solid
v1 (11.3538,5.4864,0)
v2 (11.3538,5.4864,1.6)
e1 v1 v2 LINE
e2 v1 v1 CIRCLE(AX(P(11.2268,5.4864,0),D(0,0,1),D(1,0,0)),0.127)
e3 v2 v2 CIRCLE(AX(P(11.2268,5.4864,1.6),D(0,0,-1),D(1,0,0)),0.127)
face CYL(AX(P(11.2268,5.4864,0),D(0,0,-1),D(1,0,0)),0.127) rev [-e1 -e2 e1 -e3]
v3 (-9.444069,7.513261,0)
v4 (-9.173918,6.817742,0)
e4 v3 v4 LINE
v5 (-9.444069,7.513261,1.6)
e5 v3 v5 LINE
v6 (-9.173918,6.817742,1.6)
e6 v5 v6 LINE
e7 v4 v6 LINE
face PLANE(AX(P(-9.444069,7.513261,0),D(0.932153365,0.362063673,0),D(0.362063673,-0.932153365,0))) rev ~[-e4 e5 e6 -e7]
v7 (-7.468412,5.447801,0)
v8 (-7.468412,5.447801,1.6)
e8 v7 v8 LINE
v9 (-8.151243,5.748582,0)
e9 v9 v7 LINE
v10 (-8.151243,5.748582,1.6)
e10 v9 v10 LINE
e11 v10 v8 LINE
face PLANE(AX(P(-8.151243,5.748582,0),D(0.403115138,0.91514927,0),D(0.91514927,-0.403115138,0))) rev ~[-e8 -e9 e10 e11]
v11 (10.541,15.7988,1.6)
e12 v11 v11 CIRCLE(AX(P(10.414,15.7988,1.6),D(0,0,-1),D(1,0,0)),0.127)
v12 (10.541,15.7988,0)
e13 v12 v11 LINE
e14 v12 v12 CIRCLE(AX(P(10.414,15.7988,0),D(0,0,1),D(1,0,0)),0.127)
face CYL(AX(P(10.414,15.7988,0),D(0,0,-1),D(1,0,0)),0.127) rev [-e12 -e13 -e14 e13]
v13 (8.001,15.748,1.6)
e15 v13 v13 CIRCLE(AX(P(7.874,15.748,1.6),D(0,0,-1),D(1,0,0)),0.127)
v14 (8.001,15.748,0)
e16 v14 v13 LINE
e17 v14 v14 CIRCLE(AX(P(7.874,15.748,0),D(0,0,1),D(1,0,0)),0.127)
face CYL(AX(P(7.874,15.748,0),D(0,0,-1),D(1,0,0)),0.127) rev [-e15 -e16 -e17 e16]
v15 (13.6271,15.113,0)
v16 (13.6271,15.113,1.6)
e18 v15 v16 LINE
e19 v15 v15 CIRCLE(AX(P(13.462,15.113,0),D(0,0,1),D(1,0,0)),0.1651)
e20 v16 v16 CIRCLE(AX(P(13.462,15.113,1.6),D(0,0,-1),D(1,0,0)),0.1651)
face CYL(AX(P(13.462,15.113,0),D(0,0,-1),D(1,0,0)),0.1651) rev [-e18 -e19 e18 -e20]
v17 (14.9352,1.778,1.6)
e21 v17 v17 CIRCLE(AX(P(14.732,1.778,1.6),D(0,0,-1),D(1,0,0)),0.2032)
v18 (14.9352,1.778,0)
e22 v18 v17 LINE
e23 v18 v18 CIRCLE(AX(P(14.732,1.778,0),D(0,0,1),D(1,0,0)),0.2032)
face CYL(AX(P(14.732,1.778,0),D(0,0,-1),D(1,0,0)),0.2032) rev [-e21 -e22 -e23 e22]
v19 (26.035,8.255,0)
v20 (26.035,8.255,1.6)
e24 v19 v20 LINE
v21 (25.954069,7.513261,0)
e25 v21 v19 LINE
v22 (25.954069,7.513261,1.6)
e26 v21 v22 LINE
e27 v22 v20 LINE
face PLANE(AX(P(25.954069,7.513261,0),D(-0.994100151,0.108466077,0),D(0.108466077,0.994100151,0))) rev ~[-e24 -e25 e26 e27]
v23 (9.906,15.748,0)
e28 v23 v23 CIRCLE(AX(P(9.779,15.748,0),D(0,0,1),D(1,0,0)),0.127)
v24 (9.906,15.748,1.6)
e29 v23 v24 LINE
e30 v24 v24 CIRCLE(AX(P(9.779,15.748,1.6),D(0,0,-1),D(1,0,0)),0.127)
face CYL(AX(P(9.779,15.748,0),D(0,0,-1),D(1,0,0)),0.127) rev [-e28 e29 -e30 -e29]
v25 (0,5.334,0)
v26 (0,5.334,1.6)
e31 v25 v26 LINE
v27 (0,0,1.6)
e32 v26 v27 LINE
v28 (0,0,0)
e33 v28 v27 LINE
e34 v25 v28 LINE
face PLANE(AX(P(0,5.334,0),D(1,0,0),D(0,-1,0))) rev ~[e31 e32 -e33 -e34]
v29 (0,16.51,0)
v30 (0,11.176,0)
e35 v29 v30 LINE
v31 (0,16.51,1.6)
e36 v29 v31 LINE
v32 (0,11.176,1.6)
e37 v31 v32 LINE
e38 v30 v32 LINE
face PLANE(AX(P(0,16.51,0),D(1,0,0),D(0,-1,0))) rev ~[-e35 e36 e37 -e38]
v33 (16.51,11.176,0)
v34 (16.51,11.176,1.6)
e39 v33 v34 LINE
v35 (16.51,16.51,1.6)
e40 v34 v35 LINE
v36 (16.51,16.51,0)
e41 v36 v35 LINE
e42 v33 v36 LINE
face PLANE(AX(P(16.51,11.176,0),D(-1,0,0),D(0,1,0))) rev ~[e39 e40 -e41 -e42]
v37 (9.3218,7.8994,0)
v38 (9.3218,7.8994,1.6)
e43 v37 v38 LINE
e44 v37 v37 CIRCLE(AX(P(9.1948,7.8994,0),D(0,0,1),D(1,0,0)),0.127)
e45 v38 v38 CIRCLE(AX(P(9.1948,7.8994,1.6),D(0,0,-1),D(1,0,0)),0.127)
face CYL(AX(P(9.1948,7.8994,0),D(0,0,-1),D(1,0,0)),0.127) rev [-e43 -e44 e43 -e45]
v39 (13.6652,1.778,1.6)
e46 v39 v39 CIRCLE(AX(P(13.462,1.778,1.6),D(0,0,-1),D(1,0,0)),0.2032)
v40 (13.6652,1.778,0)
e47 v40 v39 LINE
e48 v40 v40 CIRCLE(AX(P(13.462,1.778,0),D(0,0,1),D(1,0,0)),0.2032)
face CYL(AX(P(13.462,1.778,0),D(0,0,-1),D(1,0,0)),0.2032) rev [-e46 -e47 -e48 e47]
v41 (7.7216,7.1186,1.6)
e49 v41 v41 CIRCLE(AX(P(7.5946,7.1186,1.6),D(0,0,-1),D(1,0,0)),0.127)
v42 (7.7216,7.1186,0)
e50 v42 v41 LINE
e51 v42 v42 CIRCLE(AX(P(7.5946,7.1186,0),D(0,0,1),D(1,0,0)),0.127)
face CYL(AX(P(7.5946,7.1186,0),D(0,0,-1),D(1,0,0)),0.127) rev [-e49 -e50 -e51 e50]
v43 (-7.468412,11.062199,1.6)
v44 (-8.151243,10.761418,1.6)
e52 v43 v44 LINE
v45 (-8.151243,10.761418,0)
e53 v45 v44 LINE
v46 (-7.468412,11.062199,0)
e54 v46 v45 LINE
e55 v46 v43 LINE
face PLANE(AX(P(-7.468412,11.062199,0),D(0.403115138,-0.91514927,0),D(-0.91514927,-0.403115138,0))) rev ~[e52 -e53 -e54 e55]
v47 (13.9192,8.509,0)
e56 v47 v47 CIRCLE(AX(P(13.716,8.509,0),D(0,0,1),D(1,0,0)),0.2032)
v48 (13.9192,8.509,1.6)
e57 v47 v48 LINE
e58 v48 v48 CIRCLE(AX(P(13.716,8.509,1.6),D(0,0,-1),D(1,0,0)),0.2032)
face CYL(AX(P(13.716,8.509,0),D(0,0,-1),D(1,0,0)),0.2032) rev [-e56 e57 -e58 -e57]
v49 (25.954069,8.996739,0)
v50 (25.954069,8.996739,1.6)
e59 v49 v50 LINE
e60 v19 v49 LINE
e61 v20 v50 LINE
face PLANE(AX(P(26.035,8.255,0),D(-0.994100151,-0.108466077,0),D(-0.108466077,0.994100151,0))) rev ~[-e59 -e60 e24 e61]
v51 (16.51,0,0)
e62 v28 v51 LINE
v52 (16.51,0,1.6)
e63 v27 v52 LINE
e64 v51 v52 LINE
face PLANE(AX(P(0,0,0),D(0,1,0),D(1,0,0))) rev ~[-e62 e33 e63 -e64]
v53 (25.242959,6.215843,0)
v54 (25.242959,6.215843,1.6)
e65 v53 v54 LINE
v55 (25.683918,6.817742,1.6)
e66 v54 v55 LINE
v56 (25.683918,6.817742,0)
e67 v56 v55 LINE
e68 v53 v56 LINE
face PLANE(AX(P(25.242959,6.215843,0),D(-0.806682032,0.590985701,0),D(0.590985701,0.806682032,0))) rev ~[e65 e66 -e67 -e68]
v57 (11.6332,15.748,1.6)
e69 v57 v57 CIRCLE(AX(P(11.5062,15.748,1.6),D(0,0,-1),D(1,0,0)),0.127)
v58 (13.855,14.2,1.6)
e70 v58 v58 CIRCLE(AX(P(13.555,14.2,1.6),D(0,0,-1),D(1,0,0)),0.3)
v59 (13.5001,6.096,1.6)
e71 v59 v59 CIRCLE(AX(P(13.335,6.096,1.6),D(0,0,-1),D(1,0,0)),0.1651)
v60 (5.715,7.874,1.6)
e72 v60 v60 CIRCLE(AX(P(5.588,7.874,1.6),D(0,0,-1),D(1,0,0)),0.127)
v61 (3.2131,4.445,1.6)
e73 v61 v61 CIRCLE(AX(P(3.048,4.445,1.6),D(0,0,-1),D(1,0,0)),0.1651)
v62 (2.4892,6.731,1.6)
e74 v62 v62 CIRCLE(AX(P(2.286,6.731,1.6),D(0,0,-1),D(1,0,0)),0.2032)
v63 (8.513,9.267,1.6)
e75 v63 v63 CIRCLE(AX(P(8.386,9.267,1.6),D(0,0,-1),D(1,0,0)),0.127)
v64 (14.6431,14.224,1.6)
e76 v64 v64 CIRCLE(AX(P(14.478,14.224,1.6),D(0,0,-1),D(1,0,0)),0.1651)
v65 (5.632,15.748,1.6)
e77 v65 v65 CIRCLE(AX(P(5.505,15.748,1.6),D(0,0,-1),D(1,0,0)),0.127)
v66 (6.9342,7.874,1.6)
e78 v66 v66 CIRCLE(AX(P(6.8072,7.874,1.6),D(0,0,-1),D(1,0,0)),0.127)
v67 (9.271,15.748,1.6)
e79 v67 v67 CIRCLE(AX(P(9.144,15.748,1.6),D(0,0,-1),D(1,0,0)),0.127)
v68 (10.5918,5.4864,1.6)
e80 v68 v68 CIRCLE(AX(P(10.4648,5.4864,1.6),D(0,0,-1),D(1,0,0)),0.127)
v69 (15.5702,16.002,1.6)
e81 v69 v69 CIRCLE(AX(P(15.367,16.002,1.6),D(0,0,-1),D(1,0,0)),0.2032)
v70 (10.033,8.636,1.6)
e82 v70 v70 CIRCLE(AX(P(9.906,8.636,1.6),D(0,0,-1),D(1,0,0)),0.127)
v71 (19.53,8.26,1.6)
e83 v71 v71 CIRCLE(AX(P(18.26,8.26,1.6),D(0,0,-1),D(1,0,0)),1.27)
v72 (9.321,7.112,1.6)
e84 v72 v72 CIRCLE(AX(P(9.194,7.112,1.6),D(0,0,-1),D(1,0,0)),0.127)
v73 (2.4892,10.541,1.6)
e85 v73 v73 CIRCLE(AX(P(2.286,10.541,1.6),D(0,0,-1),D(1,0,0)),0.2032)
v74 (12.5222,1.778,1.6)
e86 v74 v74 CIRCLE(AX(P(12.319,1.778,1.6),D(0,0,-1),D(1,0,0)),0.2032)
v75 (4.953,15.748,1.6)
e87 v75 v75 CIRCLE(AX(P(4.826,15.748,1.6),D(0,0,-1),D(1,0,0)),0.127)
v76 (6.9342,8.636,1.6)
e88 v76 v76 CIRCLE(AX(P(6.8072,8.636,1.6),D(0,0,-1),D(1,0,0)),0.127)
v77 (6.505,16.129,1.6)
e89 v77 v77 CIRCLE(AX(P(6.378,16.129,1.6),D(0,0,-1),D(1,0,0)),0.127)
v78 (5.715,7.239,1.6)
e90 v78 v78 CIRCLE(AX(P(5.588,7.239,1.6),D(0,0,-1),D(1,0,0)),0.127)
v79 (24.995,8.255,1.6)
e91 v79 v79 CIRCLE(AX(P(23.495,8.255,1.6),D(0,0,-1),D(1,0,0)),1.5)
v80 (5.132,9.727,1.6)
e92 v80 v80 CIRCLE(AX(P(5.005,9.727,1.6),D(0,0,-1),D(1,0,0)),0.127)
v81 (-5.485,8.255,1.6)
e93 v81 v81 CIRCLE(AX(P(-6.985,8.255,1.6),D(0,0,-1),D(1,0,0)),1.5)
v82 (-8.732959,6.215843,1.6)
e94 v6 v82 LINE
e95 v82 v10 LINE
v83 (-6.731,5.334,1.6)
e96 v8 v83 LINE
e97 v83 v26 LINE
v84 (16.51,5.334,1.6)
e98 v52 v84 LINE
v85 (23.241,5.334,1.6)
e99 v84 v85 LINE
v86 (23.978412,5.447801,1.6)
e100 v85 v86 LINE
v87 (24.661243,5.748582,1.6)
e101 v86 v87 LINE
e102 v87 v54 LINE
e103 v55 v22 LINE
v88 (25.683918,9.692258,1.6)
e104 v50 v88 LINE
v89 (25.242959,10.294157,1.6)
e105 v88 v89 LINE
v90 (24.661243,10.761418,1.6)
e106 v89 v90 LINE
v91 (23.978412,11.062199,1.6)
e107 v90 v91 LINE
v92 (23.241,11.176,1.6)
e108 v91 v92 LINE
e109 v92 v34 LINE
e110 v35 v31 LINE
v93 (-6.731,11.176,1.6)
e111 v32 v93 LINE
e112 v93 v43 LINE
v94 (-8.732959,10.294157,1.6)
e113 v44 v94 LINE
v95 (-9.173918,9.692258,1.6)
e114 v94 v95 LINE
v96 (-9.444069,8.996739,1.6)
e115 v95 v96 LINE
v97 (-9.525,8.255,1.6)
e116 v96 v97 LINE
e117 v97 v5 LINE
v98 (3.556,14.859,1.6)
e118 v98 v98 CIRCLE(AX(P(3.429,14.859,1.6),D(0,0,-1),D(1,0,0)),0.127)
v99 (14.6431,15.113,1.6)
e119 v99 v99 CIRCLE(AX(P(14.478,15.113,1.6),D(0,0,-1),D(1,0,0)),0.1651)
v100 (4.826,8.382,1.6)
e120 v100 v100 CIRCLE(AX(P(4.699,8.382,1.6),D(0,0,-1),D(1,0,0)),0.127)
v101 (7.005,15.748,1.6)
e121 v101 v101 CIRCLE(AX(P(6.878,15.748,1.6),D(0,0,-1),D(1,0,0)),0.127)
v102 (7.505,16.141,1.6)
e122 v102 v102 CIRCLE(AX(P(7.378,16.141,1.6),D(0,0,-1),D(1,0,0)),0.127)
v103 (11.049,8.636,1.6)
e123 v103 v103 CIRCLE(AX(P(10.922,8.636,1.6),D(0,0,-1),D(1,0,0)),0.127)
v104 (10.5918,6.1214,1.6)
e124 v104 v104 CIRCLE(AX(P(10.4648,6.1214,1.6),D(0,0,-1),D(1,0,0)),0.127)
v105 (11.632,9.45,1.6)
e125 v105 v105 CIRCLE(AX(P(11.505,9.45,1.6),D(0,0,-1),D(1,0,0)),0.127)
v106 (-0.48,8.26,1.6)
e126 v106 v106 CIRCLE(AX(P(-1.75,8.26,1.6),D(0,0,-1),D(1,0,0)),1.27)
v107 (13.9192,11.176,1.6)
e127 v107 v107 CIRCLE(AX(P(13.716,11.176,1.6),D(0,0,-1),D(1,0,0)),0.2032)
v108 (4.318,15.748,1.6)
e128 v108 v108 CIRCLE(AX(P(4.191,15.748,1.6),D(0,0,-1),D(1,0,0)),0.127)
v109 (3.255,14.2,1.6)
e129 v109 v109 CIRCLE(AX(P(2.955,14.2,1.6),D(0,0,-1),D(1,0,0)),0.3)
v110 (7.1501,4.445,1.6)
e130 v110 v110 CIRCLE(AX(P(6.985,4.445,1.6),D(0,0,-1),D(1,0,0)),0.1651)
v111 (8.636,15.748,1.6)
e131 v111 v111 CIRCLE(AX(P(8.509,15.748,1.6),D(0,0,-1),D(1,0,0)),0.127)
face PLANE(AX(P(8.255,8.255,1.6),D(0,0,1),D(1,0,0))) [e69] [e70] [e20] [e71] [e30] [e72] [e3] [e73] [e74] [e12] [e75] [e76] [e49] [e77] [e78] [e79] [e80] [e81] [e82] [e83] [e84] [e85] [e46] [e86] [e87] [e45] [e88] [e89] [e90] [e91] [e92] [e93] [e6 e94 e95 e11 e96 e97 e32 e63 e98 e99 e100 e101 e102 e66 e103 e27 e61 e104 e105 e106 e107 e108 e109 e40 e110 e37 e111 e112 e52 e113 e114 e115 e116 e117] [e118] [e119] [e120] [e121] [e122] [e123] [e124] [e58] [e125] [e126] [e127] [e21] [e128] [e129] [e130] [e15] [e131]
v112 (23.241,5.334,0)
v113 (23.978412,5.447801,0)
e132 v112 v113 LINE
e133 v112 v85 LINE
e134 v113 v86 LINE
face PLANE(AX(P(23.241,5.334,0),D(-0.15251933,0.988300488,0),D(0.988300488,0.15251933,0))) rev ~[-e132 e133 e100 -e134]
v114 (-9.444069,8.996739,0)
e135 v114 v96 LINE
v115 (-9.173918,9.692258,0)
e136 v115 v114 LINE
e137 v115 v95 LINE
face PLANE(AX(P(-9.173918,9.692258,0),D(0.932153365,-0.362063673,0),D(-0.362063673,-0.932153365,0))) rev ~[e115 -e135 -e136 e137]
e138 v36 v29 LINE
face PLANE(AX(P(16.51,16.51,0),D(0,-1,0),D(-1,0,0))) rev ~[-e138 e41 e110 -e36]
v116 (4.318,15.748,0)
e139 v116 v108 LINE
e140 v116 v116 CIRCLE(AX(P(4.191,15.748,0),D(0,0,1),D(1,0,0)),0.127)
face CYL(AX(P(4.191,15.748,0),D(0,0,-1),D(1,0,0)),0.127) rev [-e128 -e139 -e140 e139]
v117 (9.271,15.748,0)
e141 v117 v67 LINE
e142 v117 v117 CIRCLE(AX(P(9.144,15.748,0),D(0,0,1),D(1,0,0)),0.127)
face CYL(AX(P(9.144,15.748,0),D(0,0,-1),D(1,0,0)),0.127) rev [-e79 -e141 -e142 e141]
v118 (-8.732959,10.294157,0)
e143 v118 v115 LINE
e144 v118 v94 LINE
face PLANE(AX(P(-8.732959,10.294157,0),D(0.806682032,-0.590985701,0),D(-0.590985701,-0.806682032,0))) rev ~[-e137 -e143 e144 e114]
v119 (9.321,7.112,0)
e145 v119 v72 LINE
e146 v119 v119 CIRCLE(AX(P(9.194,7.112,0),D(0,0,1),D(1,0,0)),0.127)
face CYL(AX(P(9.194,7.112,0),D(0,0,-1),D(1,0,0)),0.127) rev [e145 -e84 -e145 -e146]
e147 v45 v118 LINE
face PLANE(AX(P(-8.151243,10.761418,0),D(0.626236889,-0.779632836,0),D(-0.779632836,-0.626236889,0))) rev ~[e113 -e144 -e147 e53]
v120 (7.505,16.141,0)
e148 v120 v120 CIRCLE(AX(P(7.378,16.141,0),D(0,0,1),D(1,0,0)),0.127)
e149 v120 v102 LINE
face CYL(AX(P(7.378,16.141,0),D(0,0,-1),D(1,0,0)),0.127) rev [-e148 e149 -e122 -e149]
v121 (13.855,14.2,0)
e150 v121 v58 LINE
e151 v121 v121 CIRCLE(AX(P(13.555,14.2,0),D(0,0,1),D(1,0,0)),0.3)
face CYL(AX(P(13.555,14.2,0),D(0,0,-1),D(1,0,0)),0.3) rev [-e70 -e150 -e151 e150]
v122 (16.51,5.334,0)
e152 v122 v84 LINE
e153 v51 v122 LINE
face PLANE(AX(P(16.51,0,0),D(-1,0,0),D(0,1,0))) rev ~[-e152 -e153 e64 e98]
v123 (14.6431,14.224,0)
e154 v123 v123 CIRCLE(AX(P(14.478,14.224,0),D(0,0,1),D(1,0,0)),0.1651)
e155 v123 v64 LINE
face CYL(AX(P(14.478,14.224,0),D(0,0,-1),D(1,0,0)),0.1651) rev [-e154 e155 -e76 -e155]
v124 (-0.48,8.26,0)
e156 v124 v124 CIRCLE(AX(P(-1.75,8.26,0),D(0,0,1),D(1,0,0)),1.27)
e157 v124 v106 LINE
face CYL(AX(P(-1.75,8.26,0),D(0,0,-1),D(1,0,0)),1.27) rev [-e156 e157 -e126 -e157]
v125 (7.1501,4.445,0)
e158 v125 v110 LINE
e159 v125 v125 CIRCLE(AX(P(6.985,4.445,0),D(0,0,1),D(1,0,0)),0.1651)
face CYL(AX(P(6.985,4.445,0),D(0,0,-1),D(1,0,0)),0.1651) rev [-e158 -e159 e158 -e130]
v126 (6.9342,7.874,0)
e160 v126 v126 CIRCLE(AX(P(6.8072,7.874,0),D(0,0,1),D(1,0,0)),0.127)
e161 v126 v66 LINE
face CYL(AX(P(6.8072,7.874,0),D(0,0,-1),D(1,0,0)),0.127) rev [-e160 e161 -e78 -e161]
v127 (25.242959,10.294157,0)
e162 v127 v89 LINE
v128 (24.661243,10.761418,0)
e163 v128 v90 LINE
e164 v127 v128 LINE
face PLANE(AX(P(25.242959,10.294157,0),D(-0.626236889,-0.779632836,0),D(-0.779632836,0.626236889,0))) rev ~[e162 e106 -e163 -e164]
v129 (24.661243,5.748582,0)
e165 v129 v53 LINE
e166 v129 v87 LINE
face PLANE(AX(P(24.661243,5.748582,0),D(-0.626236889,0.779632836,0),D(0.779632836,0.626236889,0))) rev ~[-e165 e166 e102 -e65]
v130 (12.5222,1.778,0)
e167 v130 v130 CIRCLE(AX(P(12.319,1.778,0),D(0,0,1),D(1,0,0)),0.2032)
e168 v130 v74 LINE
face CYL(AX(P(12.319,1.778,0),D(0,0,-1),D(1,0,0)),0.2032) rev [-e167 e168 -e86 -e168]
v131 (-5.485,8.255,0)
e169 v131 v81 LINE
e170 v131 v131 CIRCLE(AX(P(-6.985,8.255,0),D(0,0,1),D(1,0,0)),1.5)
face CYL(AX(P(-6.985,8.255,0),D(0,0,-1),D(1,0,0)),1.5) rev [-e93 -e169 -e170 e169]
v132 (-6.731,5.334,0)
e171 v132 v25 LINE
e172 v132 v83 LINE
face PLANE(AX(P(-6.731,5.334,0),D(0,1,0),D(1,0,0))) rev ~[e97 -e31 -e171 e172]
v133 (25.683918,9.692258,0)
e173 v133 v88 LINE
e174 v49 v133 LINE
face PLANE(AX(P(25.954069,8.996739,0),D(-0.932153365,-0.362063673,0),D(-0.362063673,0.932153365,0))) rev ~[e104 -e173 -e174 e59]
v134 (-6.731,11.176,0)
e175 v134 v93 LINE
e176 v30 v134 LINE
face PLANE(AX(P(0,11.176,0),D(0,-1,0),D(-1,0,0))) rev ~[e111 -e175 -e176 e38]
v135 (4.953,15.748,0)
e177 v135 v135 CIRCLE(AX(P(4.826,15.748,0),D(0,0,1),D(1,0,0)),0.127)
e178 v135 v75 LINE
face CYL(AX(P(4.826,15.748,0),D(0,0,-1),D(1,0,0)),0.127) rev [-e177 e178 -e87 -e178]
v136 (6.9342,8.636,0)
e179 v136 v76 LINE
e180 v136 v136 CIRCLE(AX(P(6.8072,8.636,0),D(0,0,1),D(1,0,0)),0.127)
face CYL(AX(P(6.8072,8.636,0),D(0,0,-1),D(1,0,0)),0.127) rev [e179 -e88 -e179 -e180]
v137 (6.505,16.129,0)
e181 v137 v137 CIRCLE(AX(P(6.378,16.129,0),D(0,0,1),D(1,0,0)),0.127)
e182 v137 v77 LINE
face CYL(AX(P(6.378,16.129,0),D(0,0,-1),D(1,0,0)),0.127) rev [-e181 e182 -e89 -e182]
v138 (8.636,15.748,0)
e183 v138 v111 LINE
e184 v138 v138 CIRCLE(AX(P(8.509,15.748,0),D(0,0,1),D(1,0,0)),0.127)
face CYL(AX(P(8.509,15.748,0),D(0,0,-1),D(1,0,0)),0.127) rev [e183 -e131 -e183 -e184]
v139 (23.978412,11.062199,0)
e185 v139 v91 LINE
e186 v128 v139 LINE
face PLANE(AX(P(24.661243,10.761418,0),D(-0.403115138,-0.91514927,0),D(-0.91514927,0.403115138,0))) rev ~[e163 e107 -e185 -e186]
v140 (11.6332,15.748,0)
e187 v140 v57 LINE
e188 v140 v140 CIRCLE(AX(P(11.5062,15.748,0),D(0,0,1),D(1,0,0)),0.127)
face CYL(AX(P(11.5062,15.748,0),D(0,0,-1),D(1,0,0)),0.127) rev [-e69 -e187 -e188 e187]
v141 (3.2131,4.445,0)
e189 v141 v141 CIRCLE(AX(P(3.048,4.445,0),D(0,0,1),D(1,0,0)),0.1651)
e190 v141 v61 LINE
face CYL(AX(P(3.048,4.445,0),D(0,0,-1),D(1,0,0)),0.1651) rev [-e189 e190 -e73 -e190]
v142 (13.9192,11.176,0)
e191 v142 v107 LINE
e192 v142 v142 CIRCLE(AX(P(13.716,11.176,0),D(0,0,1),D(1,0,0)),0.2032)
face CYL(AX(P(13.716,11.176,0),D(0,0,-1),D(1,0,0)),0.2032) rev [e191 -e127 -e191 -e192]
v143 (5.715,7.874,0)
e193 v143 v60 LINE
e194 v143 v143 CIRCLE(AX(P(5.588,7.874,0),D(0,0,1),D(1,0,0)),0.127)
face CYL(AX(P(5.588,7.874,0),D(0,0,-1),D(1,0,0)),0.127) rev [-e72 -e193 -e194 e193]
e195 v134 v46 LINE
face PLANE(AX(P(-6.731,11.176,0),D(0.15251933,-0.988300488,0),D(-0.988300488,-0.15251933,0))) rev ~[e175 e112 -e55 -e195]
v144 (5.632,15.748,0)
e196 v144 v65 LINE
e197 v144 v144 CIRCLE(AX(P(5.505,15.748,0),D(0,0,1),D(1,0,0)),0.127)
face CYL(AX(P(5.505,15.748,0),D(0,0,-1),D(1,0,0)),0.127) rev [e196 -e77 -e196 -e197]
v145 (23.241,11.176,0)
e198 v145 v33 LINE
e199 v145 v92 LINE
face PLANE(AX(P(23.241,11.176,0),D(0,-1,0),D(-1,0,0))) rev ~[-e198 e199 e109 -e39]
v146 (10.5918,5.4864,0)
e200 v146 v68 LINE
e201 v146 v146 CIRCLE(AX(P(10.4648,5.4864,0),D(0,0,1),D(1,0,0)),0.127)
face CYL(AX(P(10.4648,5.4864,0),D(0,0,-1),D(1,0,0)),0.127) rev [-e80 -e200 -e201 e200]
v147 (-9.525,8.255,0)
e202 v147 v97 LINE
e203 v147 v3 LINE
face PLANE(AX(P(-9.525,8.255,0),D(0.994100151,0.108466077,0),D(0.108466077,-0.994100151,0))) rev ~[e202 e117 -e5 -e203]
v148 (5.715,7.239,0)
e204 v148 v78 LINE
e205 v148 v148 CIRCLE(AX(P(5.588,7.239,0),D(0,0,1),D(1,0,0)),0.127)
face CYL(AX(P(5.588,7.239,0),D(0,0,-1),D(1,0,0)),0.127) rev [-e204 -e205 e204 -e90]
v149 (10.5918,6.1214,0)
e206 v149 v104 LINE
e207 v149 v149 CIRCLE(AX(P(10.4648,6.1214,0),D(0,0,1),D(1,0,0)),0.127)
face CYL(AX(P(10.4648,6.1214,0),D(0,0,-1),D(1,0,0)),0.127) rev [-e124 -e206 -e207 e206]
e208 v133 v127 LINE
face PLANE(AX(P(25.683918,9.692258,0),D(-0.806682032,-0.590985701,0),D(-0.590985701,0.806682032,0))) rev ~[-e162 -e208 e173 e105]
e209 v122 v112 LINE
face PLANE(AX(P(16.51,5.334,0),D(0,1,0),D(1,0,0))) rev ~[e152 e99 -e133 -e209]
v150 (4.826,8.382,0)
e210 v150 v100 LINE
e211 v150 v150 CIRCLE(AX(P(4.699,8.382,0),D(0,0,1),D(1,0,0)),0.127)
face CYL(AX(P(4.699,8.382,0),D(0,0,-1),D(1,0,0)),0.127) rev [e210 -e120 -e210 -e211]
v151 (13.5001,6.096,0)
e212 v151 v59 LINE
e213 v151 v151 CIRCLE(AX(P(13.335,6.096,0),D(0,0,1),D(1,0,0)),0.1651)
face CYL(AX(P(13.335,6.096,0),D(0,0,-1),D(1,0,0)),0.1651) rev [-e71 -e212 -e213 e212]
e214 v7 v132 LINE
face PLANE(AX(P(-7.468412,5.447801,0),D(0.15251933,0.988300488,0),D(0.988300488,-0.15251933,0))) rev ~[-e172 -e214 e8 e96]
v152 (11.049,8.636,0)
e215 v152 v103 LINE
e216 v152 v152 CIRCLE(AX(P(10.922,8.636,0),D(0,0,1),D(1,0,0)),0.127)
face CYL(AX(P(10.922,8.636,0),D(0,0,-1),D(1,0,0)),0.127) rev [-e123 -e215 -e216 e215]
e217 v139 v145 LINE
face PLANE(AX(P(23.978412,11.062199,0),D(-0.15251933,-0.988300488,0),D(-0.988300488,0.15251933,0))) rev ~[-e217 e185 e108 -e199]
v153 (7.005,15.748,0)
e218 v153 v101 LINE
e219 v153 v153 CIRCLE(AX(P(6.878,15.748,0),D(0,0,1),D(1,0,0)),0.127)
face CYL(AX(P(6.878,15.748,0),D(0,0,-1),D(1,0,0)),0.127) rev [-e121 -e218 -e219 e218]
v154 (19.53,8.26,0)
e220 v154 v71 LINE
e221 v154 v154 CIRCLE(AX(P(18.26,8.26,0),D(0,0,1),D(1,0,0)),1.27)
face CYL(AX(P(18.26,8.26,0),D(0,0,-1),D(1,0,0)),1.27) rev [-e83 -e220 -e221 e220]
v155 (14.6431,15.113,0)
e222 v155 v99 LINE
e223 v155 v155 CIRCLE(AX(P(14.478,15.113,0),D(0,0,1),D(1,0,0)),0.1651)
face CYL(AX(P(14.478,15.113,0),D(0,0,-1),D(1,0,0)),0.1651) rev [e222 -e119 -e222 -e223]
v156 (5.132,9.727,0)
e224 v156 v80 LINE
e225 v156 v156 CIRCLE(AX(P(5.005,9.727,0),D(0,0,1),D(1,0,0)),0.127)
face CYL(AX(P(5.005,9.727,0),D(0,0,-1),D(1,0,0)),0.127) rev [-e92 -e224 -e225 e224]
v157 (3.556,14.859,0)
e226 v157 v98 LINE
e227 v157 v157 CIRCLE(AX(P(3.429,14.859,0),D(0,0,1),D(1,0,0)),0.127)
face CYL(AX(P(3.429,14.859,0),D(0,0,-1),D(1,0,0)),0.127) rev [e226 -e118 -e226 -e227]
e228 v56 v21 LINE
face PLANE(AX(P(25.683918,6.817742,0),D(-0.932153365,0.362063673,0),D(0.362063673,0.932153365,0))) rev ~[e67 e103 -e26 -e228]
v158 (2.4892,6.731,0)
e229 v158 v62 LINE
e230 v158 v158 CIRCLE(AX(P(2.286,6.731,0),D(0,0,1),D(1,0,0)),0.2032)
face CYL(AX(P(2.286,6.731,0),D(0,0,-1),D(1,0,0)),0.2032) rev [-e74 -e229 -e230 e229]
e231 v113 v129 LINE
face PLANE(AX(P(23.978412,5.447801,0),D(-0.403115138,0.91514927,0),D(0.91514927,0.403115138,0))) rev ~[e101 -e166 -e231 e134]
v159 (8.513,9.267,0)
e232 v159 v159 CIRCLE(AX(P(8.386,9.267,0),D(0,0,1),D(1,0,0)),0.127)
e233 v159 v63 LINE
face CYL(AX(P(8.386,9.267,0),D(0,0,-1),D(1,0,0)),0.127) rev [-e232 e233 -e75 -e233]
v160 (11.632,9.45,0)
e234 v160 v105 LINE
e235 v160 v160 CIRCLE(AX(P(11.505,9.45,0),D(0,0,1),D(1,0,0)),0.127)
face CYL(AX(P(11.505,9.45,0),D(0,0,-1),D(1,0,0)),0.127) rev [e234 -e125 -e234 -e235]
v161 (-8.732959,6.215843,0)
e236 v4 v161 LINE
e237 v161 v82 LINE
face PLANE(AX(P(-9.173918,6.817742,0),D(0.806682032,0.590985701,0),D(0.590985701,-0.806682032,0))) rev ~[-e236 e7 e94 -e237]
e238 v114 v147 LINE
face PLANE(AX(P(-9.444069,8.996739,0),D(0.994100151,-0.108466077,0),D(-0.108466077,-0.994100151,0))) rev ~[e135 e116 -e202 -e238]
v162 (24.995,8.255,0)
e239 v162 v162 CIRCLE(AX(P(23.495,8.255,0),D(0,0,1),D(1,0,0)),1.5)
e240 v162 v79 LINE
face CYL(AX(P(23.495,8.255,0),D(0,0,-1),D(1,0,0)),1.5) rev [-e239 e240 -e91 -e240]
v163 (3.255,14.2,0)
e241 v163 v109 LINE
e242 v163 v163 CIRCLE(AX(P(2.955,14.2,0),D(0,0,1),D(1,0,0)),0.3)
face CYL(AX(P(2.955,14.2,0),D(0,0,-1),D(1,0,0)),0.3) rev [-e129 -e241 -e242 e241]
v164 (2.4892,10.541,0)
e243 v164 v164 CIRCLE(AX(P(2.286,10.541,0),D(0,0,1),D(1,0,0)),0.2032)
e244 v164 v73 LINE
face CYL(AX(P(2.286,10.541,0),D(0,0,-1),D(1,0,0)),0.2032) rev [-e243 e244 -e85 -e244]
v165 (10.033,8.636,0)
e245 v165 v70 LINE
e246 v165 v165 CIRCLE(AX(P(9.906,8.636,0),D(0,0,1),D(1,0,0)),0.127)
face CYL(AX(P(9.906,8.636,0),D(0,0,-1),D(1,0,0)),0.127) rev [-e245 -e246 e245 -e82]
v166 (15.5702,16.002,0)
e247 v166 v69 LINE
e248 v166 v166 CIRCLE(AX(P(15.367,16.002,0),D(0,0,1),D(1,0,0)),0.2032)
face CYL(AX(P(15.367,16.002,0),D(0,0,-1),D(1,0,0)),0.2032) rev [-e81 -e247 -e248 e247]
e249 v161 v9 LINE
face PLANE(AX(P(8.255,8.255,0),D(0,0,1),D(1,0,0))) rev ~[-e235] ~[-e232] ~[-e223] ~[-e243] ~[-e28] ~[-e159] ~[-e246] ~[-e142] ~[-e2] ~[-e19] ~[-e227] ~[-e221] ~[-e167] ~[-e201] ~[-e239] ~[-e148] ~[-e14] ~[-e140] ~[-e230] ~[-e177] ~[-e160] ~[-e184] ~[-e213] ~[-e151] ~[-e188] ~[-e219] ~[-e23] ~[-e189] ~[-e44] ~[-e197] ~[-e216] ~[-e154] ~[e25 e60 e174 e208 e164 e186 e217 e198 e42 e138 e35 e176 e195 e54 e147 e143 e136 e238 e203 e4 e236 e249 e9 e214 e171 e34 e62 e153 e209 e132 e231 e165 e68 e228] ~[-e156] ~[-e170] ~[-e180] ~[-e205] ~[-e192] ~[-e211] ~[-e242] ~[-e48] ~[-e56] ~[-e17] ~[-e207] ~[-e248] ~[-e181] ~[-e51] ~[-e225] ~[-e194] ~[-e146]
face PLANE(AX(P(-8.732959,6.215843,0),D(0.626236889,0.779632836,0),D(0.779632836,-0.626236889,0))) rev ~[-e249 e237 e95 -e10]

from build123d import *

# Parameters (mm, degrees)
BOARD_OUTLINE_DEPTH = 1.6
SKETCH2_R           = 0.3
SKETCH2_R_2         = 0.127
SKETCH2_R_3         = 0.1651
SKETCH2_R_4         = 0.2032
SKETCH2_R_5         = 1.5
NPTH_DEPTH          = 2.6
SKETCH3_R           = 1.27
PTH_DEPTH           = 2.6


with BuildPart() as part:
    # Sketch1 → Board_Outline (new body)
    with BuildSketch(Plane.XY):
        Polygon((0, 16.51), (0, 11.176), (-6.731, 11.176), (-7.468412, 11.062199), (-8.151243, 10.761418), (-8.732959, 10.294157), (-9.173918, 9.692258), (-9.444069, 8.996739), (-9.525, 8.255), (-9.444069, 7.513261), (-9.173918, 6.817742), (-8.732959, 6.215843), (-8.151243, 5.748582), (-7.468412, 5.447801), (-6.731, 5.334), (0, 5.334), (0, 0), (16.51, 0), (16.51, 5.334), (23.241, 5.334), (23.978412, 5.447801), (24.661243, 5.748582), (25.242959, 6.215843), (25.683918, 6.817742), (25.954069, 7.513261), (26.035, 8.255), (25.954069, 8.996739), (25.683918, 9.692258), (25.242959, 10.294157), (24.661243, 10.761418), (23.978412, 11.062199), (23.241, 11.176), (16.51, 11.176), (16.51, 16.51), align=None)
    extrude(amount=BOARD_OUTLINE_DEPTH)

    # Sketch2 → NPTH (cut, through all)
    with BuildSketch(Plane.XY):
        with Locations((13.555, 14.2)):
            Circle(SKETCH2_R)
        with Locations((2.955, 14.2)):
            Circle(SKETCH2_R)
        with Locations((9.1948, 7.8994)):
            Circle(SKETCH2_R_2)
        with Locations((10.4648, 5.4864)):
            Circle(SKETCH2_R_2)
        with Locations((11.2268, 5.4864)):
            Circle(SKETCH2_R_2)
        with Locations((10.4648, 6.1214)):
            Circle(SKETCH2_R_2)
        with Locations((10.414, 15.7988)):
            Circle(SKETCH2_R_2)
        with Locations((5.005, 9.727)):
            Circle(SKETCH2_R_2)
        with Locations((6.8072, 8.636)):
            Circle(SKETCH2_R_2)
        with Locations((4.699, 8.382)):
            Circle(SKETCH2_R_2)
        with Locations((10.922, 8.636)):
            Circle(SKETCH2_R_2)
        with Locations((6.378, 16.129)):
            Circle(SKETCH2_R_2)
        with Locations((6.8072, 7.874)):
            Circle(SKETCH2_R_2)
        with Locations((6.878, 15.748)):
            Circle(SKETCH2_R_2)
        with Locations((7.378, 16.141)):
            Circle(SKETCH2_R_2)
        with Locations((7.5946, 7.1186)):
            Circle(SKETCH2_R_2)
        with Locations((8.509, 15.748)):
            Circle(SKETCH2_R_2)
        with Locations((5.588, 7.239)):
            Circle(SKETCH2_R_2)
        with Locations((9.779, 15.748)):
            Circle(SKETCH2_R_2)
        with Locations((9.906, 8.636)):
            Circle(SKETCH2_R_2)
        with Locations((9.194, 7.112)):
            Circle(SKETCH2_R_2)
        with Locations((9.144, 15.748)):
            Circle(SKETCH2_R_2)
        with Locations((5.588, 7.874)):
            Circle(SKETCH2_R_2)
        with Locations((13.335, 6.096)):
            Circle(SKETCH2_R_3)
        with Locations((12.319, 1.778)):
            Circle(SKETCH2_R_4)
        with Locations((13.716, 8.509)):
            Circle(SKETCH2_R_4)
        with Locations((2.286, 6.731)):
            Circle(SKETCH2_R_4)
        with Locations((6.985, 4.445)):
            Circle(SKETCH2_R_3)
        with Locations((3.048, 4.445)):
            Circle(SKETCH2_R_3)
        with Locations((11.505, 9.45)):
            Circle(SKETCH2_R_2)
        with Locations((8.386, 9.267)):
            Circle(SKETCH2_R_2)
        with Locations((4.826, 15.748)):
            Circle(SKETCH2_R_2)
        with Locations((4.191, 15.748)):
            Circle(SKETCH2_R_2)
        with Locations((-6.985, 8.255)):
            Circle(SKETCH2_R_5)
        with Locations((23.495, 8.255)):
            Circle(SKETCH2_R_5)
        with Locations((13.716, 11.176)):
            Circle(SKETCH2_R_4)
        with Locations((2.286, 10.541)):
            Circle(SKETCH2_R_4)
        with Locations((14.478, 15.113)):
            Circle(SKETCH2_R_3)
        with Locations((13.462, 15.113)):
            Circle(SKETCH2_R_3)
        with Locations((14.478, 14.224)):
            Circle(SKETCH2_R_3)
        with Locations((5.505, 15.748)):
            Circle(SKETCH2_R_2)
        with Locations((3.429, 14.859)):
            Circle(SKETCH2_R_2)
        with Locations((7.874, 15.748)):
            Circle(SKETCH2_R_2)
        with Locations((11.5062, 15.748)):
            Circle(SKETCH2_R_2)
        with Locations((13.462, 1.778)):
            Circle(SKETCH2_R_4)
        with Locations((14.732, 1.778)):
            Circle(SKETCH2_R_4)
        with Locations((15.367, 16.002)):
            Circle(SKETCH2_R_4)
    extrude(amount=NPTH_DEPTH, mode=Mode.SUBTRACT)

    # Sketch3 → PTH (cut, through all)
    with BuildSketch(Plane.XY):
        with Locations((-1.75, 8.26)):
            Circle(SKETCH3_R)
        with Locations((18.26, 8.26)):
            Circle(SKETCH3_R)
    extrude(amount=PTH_DEPTH, mode=Mode.SUBTRACT)


solid = part.part
